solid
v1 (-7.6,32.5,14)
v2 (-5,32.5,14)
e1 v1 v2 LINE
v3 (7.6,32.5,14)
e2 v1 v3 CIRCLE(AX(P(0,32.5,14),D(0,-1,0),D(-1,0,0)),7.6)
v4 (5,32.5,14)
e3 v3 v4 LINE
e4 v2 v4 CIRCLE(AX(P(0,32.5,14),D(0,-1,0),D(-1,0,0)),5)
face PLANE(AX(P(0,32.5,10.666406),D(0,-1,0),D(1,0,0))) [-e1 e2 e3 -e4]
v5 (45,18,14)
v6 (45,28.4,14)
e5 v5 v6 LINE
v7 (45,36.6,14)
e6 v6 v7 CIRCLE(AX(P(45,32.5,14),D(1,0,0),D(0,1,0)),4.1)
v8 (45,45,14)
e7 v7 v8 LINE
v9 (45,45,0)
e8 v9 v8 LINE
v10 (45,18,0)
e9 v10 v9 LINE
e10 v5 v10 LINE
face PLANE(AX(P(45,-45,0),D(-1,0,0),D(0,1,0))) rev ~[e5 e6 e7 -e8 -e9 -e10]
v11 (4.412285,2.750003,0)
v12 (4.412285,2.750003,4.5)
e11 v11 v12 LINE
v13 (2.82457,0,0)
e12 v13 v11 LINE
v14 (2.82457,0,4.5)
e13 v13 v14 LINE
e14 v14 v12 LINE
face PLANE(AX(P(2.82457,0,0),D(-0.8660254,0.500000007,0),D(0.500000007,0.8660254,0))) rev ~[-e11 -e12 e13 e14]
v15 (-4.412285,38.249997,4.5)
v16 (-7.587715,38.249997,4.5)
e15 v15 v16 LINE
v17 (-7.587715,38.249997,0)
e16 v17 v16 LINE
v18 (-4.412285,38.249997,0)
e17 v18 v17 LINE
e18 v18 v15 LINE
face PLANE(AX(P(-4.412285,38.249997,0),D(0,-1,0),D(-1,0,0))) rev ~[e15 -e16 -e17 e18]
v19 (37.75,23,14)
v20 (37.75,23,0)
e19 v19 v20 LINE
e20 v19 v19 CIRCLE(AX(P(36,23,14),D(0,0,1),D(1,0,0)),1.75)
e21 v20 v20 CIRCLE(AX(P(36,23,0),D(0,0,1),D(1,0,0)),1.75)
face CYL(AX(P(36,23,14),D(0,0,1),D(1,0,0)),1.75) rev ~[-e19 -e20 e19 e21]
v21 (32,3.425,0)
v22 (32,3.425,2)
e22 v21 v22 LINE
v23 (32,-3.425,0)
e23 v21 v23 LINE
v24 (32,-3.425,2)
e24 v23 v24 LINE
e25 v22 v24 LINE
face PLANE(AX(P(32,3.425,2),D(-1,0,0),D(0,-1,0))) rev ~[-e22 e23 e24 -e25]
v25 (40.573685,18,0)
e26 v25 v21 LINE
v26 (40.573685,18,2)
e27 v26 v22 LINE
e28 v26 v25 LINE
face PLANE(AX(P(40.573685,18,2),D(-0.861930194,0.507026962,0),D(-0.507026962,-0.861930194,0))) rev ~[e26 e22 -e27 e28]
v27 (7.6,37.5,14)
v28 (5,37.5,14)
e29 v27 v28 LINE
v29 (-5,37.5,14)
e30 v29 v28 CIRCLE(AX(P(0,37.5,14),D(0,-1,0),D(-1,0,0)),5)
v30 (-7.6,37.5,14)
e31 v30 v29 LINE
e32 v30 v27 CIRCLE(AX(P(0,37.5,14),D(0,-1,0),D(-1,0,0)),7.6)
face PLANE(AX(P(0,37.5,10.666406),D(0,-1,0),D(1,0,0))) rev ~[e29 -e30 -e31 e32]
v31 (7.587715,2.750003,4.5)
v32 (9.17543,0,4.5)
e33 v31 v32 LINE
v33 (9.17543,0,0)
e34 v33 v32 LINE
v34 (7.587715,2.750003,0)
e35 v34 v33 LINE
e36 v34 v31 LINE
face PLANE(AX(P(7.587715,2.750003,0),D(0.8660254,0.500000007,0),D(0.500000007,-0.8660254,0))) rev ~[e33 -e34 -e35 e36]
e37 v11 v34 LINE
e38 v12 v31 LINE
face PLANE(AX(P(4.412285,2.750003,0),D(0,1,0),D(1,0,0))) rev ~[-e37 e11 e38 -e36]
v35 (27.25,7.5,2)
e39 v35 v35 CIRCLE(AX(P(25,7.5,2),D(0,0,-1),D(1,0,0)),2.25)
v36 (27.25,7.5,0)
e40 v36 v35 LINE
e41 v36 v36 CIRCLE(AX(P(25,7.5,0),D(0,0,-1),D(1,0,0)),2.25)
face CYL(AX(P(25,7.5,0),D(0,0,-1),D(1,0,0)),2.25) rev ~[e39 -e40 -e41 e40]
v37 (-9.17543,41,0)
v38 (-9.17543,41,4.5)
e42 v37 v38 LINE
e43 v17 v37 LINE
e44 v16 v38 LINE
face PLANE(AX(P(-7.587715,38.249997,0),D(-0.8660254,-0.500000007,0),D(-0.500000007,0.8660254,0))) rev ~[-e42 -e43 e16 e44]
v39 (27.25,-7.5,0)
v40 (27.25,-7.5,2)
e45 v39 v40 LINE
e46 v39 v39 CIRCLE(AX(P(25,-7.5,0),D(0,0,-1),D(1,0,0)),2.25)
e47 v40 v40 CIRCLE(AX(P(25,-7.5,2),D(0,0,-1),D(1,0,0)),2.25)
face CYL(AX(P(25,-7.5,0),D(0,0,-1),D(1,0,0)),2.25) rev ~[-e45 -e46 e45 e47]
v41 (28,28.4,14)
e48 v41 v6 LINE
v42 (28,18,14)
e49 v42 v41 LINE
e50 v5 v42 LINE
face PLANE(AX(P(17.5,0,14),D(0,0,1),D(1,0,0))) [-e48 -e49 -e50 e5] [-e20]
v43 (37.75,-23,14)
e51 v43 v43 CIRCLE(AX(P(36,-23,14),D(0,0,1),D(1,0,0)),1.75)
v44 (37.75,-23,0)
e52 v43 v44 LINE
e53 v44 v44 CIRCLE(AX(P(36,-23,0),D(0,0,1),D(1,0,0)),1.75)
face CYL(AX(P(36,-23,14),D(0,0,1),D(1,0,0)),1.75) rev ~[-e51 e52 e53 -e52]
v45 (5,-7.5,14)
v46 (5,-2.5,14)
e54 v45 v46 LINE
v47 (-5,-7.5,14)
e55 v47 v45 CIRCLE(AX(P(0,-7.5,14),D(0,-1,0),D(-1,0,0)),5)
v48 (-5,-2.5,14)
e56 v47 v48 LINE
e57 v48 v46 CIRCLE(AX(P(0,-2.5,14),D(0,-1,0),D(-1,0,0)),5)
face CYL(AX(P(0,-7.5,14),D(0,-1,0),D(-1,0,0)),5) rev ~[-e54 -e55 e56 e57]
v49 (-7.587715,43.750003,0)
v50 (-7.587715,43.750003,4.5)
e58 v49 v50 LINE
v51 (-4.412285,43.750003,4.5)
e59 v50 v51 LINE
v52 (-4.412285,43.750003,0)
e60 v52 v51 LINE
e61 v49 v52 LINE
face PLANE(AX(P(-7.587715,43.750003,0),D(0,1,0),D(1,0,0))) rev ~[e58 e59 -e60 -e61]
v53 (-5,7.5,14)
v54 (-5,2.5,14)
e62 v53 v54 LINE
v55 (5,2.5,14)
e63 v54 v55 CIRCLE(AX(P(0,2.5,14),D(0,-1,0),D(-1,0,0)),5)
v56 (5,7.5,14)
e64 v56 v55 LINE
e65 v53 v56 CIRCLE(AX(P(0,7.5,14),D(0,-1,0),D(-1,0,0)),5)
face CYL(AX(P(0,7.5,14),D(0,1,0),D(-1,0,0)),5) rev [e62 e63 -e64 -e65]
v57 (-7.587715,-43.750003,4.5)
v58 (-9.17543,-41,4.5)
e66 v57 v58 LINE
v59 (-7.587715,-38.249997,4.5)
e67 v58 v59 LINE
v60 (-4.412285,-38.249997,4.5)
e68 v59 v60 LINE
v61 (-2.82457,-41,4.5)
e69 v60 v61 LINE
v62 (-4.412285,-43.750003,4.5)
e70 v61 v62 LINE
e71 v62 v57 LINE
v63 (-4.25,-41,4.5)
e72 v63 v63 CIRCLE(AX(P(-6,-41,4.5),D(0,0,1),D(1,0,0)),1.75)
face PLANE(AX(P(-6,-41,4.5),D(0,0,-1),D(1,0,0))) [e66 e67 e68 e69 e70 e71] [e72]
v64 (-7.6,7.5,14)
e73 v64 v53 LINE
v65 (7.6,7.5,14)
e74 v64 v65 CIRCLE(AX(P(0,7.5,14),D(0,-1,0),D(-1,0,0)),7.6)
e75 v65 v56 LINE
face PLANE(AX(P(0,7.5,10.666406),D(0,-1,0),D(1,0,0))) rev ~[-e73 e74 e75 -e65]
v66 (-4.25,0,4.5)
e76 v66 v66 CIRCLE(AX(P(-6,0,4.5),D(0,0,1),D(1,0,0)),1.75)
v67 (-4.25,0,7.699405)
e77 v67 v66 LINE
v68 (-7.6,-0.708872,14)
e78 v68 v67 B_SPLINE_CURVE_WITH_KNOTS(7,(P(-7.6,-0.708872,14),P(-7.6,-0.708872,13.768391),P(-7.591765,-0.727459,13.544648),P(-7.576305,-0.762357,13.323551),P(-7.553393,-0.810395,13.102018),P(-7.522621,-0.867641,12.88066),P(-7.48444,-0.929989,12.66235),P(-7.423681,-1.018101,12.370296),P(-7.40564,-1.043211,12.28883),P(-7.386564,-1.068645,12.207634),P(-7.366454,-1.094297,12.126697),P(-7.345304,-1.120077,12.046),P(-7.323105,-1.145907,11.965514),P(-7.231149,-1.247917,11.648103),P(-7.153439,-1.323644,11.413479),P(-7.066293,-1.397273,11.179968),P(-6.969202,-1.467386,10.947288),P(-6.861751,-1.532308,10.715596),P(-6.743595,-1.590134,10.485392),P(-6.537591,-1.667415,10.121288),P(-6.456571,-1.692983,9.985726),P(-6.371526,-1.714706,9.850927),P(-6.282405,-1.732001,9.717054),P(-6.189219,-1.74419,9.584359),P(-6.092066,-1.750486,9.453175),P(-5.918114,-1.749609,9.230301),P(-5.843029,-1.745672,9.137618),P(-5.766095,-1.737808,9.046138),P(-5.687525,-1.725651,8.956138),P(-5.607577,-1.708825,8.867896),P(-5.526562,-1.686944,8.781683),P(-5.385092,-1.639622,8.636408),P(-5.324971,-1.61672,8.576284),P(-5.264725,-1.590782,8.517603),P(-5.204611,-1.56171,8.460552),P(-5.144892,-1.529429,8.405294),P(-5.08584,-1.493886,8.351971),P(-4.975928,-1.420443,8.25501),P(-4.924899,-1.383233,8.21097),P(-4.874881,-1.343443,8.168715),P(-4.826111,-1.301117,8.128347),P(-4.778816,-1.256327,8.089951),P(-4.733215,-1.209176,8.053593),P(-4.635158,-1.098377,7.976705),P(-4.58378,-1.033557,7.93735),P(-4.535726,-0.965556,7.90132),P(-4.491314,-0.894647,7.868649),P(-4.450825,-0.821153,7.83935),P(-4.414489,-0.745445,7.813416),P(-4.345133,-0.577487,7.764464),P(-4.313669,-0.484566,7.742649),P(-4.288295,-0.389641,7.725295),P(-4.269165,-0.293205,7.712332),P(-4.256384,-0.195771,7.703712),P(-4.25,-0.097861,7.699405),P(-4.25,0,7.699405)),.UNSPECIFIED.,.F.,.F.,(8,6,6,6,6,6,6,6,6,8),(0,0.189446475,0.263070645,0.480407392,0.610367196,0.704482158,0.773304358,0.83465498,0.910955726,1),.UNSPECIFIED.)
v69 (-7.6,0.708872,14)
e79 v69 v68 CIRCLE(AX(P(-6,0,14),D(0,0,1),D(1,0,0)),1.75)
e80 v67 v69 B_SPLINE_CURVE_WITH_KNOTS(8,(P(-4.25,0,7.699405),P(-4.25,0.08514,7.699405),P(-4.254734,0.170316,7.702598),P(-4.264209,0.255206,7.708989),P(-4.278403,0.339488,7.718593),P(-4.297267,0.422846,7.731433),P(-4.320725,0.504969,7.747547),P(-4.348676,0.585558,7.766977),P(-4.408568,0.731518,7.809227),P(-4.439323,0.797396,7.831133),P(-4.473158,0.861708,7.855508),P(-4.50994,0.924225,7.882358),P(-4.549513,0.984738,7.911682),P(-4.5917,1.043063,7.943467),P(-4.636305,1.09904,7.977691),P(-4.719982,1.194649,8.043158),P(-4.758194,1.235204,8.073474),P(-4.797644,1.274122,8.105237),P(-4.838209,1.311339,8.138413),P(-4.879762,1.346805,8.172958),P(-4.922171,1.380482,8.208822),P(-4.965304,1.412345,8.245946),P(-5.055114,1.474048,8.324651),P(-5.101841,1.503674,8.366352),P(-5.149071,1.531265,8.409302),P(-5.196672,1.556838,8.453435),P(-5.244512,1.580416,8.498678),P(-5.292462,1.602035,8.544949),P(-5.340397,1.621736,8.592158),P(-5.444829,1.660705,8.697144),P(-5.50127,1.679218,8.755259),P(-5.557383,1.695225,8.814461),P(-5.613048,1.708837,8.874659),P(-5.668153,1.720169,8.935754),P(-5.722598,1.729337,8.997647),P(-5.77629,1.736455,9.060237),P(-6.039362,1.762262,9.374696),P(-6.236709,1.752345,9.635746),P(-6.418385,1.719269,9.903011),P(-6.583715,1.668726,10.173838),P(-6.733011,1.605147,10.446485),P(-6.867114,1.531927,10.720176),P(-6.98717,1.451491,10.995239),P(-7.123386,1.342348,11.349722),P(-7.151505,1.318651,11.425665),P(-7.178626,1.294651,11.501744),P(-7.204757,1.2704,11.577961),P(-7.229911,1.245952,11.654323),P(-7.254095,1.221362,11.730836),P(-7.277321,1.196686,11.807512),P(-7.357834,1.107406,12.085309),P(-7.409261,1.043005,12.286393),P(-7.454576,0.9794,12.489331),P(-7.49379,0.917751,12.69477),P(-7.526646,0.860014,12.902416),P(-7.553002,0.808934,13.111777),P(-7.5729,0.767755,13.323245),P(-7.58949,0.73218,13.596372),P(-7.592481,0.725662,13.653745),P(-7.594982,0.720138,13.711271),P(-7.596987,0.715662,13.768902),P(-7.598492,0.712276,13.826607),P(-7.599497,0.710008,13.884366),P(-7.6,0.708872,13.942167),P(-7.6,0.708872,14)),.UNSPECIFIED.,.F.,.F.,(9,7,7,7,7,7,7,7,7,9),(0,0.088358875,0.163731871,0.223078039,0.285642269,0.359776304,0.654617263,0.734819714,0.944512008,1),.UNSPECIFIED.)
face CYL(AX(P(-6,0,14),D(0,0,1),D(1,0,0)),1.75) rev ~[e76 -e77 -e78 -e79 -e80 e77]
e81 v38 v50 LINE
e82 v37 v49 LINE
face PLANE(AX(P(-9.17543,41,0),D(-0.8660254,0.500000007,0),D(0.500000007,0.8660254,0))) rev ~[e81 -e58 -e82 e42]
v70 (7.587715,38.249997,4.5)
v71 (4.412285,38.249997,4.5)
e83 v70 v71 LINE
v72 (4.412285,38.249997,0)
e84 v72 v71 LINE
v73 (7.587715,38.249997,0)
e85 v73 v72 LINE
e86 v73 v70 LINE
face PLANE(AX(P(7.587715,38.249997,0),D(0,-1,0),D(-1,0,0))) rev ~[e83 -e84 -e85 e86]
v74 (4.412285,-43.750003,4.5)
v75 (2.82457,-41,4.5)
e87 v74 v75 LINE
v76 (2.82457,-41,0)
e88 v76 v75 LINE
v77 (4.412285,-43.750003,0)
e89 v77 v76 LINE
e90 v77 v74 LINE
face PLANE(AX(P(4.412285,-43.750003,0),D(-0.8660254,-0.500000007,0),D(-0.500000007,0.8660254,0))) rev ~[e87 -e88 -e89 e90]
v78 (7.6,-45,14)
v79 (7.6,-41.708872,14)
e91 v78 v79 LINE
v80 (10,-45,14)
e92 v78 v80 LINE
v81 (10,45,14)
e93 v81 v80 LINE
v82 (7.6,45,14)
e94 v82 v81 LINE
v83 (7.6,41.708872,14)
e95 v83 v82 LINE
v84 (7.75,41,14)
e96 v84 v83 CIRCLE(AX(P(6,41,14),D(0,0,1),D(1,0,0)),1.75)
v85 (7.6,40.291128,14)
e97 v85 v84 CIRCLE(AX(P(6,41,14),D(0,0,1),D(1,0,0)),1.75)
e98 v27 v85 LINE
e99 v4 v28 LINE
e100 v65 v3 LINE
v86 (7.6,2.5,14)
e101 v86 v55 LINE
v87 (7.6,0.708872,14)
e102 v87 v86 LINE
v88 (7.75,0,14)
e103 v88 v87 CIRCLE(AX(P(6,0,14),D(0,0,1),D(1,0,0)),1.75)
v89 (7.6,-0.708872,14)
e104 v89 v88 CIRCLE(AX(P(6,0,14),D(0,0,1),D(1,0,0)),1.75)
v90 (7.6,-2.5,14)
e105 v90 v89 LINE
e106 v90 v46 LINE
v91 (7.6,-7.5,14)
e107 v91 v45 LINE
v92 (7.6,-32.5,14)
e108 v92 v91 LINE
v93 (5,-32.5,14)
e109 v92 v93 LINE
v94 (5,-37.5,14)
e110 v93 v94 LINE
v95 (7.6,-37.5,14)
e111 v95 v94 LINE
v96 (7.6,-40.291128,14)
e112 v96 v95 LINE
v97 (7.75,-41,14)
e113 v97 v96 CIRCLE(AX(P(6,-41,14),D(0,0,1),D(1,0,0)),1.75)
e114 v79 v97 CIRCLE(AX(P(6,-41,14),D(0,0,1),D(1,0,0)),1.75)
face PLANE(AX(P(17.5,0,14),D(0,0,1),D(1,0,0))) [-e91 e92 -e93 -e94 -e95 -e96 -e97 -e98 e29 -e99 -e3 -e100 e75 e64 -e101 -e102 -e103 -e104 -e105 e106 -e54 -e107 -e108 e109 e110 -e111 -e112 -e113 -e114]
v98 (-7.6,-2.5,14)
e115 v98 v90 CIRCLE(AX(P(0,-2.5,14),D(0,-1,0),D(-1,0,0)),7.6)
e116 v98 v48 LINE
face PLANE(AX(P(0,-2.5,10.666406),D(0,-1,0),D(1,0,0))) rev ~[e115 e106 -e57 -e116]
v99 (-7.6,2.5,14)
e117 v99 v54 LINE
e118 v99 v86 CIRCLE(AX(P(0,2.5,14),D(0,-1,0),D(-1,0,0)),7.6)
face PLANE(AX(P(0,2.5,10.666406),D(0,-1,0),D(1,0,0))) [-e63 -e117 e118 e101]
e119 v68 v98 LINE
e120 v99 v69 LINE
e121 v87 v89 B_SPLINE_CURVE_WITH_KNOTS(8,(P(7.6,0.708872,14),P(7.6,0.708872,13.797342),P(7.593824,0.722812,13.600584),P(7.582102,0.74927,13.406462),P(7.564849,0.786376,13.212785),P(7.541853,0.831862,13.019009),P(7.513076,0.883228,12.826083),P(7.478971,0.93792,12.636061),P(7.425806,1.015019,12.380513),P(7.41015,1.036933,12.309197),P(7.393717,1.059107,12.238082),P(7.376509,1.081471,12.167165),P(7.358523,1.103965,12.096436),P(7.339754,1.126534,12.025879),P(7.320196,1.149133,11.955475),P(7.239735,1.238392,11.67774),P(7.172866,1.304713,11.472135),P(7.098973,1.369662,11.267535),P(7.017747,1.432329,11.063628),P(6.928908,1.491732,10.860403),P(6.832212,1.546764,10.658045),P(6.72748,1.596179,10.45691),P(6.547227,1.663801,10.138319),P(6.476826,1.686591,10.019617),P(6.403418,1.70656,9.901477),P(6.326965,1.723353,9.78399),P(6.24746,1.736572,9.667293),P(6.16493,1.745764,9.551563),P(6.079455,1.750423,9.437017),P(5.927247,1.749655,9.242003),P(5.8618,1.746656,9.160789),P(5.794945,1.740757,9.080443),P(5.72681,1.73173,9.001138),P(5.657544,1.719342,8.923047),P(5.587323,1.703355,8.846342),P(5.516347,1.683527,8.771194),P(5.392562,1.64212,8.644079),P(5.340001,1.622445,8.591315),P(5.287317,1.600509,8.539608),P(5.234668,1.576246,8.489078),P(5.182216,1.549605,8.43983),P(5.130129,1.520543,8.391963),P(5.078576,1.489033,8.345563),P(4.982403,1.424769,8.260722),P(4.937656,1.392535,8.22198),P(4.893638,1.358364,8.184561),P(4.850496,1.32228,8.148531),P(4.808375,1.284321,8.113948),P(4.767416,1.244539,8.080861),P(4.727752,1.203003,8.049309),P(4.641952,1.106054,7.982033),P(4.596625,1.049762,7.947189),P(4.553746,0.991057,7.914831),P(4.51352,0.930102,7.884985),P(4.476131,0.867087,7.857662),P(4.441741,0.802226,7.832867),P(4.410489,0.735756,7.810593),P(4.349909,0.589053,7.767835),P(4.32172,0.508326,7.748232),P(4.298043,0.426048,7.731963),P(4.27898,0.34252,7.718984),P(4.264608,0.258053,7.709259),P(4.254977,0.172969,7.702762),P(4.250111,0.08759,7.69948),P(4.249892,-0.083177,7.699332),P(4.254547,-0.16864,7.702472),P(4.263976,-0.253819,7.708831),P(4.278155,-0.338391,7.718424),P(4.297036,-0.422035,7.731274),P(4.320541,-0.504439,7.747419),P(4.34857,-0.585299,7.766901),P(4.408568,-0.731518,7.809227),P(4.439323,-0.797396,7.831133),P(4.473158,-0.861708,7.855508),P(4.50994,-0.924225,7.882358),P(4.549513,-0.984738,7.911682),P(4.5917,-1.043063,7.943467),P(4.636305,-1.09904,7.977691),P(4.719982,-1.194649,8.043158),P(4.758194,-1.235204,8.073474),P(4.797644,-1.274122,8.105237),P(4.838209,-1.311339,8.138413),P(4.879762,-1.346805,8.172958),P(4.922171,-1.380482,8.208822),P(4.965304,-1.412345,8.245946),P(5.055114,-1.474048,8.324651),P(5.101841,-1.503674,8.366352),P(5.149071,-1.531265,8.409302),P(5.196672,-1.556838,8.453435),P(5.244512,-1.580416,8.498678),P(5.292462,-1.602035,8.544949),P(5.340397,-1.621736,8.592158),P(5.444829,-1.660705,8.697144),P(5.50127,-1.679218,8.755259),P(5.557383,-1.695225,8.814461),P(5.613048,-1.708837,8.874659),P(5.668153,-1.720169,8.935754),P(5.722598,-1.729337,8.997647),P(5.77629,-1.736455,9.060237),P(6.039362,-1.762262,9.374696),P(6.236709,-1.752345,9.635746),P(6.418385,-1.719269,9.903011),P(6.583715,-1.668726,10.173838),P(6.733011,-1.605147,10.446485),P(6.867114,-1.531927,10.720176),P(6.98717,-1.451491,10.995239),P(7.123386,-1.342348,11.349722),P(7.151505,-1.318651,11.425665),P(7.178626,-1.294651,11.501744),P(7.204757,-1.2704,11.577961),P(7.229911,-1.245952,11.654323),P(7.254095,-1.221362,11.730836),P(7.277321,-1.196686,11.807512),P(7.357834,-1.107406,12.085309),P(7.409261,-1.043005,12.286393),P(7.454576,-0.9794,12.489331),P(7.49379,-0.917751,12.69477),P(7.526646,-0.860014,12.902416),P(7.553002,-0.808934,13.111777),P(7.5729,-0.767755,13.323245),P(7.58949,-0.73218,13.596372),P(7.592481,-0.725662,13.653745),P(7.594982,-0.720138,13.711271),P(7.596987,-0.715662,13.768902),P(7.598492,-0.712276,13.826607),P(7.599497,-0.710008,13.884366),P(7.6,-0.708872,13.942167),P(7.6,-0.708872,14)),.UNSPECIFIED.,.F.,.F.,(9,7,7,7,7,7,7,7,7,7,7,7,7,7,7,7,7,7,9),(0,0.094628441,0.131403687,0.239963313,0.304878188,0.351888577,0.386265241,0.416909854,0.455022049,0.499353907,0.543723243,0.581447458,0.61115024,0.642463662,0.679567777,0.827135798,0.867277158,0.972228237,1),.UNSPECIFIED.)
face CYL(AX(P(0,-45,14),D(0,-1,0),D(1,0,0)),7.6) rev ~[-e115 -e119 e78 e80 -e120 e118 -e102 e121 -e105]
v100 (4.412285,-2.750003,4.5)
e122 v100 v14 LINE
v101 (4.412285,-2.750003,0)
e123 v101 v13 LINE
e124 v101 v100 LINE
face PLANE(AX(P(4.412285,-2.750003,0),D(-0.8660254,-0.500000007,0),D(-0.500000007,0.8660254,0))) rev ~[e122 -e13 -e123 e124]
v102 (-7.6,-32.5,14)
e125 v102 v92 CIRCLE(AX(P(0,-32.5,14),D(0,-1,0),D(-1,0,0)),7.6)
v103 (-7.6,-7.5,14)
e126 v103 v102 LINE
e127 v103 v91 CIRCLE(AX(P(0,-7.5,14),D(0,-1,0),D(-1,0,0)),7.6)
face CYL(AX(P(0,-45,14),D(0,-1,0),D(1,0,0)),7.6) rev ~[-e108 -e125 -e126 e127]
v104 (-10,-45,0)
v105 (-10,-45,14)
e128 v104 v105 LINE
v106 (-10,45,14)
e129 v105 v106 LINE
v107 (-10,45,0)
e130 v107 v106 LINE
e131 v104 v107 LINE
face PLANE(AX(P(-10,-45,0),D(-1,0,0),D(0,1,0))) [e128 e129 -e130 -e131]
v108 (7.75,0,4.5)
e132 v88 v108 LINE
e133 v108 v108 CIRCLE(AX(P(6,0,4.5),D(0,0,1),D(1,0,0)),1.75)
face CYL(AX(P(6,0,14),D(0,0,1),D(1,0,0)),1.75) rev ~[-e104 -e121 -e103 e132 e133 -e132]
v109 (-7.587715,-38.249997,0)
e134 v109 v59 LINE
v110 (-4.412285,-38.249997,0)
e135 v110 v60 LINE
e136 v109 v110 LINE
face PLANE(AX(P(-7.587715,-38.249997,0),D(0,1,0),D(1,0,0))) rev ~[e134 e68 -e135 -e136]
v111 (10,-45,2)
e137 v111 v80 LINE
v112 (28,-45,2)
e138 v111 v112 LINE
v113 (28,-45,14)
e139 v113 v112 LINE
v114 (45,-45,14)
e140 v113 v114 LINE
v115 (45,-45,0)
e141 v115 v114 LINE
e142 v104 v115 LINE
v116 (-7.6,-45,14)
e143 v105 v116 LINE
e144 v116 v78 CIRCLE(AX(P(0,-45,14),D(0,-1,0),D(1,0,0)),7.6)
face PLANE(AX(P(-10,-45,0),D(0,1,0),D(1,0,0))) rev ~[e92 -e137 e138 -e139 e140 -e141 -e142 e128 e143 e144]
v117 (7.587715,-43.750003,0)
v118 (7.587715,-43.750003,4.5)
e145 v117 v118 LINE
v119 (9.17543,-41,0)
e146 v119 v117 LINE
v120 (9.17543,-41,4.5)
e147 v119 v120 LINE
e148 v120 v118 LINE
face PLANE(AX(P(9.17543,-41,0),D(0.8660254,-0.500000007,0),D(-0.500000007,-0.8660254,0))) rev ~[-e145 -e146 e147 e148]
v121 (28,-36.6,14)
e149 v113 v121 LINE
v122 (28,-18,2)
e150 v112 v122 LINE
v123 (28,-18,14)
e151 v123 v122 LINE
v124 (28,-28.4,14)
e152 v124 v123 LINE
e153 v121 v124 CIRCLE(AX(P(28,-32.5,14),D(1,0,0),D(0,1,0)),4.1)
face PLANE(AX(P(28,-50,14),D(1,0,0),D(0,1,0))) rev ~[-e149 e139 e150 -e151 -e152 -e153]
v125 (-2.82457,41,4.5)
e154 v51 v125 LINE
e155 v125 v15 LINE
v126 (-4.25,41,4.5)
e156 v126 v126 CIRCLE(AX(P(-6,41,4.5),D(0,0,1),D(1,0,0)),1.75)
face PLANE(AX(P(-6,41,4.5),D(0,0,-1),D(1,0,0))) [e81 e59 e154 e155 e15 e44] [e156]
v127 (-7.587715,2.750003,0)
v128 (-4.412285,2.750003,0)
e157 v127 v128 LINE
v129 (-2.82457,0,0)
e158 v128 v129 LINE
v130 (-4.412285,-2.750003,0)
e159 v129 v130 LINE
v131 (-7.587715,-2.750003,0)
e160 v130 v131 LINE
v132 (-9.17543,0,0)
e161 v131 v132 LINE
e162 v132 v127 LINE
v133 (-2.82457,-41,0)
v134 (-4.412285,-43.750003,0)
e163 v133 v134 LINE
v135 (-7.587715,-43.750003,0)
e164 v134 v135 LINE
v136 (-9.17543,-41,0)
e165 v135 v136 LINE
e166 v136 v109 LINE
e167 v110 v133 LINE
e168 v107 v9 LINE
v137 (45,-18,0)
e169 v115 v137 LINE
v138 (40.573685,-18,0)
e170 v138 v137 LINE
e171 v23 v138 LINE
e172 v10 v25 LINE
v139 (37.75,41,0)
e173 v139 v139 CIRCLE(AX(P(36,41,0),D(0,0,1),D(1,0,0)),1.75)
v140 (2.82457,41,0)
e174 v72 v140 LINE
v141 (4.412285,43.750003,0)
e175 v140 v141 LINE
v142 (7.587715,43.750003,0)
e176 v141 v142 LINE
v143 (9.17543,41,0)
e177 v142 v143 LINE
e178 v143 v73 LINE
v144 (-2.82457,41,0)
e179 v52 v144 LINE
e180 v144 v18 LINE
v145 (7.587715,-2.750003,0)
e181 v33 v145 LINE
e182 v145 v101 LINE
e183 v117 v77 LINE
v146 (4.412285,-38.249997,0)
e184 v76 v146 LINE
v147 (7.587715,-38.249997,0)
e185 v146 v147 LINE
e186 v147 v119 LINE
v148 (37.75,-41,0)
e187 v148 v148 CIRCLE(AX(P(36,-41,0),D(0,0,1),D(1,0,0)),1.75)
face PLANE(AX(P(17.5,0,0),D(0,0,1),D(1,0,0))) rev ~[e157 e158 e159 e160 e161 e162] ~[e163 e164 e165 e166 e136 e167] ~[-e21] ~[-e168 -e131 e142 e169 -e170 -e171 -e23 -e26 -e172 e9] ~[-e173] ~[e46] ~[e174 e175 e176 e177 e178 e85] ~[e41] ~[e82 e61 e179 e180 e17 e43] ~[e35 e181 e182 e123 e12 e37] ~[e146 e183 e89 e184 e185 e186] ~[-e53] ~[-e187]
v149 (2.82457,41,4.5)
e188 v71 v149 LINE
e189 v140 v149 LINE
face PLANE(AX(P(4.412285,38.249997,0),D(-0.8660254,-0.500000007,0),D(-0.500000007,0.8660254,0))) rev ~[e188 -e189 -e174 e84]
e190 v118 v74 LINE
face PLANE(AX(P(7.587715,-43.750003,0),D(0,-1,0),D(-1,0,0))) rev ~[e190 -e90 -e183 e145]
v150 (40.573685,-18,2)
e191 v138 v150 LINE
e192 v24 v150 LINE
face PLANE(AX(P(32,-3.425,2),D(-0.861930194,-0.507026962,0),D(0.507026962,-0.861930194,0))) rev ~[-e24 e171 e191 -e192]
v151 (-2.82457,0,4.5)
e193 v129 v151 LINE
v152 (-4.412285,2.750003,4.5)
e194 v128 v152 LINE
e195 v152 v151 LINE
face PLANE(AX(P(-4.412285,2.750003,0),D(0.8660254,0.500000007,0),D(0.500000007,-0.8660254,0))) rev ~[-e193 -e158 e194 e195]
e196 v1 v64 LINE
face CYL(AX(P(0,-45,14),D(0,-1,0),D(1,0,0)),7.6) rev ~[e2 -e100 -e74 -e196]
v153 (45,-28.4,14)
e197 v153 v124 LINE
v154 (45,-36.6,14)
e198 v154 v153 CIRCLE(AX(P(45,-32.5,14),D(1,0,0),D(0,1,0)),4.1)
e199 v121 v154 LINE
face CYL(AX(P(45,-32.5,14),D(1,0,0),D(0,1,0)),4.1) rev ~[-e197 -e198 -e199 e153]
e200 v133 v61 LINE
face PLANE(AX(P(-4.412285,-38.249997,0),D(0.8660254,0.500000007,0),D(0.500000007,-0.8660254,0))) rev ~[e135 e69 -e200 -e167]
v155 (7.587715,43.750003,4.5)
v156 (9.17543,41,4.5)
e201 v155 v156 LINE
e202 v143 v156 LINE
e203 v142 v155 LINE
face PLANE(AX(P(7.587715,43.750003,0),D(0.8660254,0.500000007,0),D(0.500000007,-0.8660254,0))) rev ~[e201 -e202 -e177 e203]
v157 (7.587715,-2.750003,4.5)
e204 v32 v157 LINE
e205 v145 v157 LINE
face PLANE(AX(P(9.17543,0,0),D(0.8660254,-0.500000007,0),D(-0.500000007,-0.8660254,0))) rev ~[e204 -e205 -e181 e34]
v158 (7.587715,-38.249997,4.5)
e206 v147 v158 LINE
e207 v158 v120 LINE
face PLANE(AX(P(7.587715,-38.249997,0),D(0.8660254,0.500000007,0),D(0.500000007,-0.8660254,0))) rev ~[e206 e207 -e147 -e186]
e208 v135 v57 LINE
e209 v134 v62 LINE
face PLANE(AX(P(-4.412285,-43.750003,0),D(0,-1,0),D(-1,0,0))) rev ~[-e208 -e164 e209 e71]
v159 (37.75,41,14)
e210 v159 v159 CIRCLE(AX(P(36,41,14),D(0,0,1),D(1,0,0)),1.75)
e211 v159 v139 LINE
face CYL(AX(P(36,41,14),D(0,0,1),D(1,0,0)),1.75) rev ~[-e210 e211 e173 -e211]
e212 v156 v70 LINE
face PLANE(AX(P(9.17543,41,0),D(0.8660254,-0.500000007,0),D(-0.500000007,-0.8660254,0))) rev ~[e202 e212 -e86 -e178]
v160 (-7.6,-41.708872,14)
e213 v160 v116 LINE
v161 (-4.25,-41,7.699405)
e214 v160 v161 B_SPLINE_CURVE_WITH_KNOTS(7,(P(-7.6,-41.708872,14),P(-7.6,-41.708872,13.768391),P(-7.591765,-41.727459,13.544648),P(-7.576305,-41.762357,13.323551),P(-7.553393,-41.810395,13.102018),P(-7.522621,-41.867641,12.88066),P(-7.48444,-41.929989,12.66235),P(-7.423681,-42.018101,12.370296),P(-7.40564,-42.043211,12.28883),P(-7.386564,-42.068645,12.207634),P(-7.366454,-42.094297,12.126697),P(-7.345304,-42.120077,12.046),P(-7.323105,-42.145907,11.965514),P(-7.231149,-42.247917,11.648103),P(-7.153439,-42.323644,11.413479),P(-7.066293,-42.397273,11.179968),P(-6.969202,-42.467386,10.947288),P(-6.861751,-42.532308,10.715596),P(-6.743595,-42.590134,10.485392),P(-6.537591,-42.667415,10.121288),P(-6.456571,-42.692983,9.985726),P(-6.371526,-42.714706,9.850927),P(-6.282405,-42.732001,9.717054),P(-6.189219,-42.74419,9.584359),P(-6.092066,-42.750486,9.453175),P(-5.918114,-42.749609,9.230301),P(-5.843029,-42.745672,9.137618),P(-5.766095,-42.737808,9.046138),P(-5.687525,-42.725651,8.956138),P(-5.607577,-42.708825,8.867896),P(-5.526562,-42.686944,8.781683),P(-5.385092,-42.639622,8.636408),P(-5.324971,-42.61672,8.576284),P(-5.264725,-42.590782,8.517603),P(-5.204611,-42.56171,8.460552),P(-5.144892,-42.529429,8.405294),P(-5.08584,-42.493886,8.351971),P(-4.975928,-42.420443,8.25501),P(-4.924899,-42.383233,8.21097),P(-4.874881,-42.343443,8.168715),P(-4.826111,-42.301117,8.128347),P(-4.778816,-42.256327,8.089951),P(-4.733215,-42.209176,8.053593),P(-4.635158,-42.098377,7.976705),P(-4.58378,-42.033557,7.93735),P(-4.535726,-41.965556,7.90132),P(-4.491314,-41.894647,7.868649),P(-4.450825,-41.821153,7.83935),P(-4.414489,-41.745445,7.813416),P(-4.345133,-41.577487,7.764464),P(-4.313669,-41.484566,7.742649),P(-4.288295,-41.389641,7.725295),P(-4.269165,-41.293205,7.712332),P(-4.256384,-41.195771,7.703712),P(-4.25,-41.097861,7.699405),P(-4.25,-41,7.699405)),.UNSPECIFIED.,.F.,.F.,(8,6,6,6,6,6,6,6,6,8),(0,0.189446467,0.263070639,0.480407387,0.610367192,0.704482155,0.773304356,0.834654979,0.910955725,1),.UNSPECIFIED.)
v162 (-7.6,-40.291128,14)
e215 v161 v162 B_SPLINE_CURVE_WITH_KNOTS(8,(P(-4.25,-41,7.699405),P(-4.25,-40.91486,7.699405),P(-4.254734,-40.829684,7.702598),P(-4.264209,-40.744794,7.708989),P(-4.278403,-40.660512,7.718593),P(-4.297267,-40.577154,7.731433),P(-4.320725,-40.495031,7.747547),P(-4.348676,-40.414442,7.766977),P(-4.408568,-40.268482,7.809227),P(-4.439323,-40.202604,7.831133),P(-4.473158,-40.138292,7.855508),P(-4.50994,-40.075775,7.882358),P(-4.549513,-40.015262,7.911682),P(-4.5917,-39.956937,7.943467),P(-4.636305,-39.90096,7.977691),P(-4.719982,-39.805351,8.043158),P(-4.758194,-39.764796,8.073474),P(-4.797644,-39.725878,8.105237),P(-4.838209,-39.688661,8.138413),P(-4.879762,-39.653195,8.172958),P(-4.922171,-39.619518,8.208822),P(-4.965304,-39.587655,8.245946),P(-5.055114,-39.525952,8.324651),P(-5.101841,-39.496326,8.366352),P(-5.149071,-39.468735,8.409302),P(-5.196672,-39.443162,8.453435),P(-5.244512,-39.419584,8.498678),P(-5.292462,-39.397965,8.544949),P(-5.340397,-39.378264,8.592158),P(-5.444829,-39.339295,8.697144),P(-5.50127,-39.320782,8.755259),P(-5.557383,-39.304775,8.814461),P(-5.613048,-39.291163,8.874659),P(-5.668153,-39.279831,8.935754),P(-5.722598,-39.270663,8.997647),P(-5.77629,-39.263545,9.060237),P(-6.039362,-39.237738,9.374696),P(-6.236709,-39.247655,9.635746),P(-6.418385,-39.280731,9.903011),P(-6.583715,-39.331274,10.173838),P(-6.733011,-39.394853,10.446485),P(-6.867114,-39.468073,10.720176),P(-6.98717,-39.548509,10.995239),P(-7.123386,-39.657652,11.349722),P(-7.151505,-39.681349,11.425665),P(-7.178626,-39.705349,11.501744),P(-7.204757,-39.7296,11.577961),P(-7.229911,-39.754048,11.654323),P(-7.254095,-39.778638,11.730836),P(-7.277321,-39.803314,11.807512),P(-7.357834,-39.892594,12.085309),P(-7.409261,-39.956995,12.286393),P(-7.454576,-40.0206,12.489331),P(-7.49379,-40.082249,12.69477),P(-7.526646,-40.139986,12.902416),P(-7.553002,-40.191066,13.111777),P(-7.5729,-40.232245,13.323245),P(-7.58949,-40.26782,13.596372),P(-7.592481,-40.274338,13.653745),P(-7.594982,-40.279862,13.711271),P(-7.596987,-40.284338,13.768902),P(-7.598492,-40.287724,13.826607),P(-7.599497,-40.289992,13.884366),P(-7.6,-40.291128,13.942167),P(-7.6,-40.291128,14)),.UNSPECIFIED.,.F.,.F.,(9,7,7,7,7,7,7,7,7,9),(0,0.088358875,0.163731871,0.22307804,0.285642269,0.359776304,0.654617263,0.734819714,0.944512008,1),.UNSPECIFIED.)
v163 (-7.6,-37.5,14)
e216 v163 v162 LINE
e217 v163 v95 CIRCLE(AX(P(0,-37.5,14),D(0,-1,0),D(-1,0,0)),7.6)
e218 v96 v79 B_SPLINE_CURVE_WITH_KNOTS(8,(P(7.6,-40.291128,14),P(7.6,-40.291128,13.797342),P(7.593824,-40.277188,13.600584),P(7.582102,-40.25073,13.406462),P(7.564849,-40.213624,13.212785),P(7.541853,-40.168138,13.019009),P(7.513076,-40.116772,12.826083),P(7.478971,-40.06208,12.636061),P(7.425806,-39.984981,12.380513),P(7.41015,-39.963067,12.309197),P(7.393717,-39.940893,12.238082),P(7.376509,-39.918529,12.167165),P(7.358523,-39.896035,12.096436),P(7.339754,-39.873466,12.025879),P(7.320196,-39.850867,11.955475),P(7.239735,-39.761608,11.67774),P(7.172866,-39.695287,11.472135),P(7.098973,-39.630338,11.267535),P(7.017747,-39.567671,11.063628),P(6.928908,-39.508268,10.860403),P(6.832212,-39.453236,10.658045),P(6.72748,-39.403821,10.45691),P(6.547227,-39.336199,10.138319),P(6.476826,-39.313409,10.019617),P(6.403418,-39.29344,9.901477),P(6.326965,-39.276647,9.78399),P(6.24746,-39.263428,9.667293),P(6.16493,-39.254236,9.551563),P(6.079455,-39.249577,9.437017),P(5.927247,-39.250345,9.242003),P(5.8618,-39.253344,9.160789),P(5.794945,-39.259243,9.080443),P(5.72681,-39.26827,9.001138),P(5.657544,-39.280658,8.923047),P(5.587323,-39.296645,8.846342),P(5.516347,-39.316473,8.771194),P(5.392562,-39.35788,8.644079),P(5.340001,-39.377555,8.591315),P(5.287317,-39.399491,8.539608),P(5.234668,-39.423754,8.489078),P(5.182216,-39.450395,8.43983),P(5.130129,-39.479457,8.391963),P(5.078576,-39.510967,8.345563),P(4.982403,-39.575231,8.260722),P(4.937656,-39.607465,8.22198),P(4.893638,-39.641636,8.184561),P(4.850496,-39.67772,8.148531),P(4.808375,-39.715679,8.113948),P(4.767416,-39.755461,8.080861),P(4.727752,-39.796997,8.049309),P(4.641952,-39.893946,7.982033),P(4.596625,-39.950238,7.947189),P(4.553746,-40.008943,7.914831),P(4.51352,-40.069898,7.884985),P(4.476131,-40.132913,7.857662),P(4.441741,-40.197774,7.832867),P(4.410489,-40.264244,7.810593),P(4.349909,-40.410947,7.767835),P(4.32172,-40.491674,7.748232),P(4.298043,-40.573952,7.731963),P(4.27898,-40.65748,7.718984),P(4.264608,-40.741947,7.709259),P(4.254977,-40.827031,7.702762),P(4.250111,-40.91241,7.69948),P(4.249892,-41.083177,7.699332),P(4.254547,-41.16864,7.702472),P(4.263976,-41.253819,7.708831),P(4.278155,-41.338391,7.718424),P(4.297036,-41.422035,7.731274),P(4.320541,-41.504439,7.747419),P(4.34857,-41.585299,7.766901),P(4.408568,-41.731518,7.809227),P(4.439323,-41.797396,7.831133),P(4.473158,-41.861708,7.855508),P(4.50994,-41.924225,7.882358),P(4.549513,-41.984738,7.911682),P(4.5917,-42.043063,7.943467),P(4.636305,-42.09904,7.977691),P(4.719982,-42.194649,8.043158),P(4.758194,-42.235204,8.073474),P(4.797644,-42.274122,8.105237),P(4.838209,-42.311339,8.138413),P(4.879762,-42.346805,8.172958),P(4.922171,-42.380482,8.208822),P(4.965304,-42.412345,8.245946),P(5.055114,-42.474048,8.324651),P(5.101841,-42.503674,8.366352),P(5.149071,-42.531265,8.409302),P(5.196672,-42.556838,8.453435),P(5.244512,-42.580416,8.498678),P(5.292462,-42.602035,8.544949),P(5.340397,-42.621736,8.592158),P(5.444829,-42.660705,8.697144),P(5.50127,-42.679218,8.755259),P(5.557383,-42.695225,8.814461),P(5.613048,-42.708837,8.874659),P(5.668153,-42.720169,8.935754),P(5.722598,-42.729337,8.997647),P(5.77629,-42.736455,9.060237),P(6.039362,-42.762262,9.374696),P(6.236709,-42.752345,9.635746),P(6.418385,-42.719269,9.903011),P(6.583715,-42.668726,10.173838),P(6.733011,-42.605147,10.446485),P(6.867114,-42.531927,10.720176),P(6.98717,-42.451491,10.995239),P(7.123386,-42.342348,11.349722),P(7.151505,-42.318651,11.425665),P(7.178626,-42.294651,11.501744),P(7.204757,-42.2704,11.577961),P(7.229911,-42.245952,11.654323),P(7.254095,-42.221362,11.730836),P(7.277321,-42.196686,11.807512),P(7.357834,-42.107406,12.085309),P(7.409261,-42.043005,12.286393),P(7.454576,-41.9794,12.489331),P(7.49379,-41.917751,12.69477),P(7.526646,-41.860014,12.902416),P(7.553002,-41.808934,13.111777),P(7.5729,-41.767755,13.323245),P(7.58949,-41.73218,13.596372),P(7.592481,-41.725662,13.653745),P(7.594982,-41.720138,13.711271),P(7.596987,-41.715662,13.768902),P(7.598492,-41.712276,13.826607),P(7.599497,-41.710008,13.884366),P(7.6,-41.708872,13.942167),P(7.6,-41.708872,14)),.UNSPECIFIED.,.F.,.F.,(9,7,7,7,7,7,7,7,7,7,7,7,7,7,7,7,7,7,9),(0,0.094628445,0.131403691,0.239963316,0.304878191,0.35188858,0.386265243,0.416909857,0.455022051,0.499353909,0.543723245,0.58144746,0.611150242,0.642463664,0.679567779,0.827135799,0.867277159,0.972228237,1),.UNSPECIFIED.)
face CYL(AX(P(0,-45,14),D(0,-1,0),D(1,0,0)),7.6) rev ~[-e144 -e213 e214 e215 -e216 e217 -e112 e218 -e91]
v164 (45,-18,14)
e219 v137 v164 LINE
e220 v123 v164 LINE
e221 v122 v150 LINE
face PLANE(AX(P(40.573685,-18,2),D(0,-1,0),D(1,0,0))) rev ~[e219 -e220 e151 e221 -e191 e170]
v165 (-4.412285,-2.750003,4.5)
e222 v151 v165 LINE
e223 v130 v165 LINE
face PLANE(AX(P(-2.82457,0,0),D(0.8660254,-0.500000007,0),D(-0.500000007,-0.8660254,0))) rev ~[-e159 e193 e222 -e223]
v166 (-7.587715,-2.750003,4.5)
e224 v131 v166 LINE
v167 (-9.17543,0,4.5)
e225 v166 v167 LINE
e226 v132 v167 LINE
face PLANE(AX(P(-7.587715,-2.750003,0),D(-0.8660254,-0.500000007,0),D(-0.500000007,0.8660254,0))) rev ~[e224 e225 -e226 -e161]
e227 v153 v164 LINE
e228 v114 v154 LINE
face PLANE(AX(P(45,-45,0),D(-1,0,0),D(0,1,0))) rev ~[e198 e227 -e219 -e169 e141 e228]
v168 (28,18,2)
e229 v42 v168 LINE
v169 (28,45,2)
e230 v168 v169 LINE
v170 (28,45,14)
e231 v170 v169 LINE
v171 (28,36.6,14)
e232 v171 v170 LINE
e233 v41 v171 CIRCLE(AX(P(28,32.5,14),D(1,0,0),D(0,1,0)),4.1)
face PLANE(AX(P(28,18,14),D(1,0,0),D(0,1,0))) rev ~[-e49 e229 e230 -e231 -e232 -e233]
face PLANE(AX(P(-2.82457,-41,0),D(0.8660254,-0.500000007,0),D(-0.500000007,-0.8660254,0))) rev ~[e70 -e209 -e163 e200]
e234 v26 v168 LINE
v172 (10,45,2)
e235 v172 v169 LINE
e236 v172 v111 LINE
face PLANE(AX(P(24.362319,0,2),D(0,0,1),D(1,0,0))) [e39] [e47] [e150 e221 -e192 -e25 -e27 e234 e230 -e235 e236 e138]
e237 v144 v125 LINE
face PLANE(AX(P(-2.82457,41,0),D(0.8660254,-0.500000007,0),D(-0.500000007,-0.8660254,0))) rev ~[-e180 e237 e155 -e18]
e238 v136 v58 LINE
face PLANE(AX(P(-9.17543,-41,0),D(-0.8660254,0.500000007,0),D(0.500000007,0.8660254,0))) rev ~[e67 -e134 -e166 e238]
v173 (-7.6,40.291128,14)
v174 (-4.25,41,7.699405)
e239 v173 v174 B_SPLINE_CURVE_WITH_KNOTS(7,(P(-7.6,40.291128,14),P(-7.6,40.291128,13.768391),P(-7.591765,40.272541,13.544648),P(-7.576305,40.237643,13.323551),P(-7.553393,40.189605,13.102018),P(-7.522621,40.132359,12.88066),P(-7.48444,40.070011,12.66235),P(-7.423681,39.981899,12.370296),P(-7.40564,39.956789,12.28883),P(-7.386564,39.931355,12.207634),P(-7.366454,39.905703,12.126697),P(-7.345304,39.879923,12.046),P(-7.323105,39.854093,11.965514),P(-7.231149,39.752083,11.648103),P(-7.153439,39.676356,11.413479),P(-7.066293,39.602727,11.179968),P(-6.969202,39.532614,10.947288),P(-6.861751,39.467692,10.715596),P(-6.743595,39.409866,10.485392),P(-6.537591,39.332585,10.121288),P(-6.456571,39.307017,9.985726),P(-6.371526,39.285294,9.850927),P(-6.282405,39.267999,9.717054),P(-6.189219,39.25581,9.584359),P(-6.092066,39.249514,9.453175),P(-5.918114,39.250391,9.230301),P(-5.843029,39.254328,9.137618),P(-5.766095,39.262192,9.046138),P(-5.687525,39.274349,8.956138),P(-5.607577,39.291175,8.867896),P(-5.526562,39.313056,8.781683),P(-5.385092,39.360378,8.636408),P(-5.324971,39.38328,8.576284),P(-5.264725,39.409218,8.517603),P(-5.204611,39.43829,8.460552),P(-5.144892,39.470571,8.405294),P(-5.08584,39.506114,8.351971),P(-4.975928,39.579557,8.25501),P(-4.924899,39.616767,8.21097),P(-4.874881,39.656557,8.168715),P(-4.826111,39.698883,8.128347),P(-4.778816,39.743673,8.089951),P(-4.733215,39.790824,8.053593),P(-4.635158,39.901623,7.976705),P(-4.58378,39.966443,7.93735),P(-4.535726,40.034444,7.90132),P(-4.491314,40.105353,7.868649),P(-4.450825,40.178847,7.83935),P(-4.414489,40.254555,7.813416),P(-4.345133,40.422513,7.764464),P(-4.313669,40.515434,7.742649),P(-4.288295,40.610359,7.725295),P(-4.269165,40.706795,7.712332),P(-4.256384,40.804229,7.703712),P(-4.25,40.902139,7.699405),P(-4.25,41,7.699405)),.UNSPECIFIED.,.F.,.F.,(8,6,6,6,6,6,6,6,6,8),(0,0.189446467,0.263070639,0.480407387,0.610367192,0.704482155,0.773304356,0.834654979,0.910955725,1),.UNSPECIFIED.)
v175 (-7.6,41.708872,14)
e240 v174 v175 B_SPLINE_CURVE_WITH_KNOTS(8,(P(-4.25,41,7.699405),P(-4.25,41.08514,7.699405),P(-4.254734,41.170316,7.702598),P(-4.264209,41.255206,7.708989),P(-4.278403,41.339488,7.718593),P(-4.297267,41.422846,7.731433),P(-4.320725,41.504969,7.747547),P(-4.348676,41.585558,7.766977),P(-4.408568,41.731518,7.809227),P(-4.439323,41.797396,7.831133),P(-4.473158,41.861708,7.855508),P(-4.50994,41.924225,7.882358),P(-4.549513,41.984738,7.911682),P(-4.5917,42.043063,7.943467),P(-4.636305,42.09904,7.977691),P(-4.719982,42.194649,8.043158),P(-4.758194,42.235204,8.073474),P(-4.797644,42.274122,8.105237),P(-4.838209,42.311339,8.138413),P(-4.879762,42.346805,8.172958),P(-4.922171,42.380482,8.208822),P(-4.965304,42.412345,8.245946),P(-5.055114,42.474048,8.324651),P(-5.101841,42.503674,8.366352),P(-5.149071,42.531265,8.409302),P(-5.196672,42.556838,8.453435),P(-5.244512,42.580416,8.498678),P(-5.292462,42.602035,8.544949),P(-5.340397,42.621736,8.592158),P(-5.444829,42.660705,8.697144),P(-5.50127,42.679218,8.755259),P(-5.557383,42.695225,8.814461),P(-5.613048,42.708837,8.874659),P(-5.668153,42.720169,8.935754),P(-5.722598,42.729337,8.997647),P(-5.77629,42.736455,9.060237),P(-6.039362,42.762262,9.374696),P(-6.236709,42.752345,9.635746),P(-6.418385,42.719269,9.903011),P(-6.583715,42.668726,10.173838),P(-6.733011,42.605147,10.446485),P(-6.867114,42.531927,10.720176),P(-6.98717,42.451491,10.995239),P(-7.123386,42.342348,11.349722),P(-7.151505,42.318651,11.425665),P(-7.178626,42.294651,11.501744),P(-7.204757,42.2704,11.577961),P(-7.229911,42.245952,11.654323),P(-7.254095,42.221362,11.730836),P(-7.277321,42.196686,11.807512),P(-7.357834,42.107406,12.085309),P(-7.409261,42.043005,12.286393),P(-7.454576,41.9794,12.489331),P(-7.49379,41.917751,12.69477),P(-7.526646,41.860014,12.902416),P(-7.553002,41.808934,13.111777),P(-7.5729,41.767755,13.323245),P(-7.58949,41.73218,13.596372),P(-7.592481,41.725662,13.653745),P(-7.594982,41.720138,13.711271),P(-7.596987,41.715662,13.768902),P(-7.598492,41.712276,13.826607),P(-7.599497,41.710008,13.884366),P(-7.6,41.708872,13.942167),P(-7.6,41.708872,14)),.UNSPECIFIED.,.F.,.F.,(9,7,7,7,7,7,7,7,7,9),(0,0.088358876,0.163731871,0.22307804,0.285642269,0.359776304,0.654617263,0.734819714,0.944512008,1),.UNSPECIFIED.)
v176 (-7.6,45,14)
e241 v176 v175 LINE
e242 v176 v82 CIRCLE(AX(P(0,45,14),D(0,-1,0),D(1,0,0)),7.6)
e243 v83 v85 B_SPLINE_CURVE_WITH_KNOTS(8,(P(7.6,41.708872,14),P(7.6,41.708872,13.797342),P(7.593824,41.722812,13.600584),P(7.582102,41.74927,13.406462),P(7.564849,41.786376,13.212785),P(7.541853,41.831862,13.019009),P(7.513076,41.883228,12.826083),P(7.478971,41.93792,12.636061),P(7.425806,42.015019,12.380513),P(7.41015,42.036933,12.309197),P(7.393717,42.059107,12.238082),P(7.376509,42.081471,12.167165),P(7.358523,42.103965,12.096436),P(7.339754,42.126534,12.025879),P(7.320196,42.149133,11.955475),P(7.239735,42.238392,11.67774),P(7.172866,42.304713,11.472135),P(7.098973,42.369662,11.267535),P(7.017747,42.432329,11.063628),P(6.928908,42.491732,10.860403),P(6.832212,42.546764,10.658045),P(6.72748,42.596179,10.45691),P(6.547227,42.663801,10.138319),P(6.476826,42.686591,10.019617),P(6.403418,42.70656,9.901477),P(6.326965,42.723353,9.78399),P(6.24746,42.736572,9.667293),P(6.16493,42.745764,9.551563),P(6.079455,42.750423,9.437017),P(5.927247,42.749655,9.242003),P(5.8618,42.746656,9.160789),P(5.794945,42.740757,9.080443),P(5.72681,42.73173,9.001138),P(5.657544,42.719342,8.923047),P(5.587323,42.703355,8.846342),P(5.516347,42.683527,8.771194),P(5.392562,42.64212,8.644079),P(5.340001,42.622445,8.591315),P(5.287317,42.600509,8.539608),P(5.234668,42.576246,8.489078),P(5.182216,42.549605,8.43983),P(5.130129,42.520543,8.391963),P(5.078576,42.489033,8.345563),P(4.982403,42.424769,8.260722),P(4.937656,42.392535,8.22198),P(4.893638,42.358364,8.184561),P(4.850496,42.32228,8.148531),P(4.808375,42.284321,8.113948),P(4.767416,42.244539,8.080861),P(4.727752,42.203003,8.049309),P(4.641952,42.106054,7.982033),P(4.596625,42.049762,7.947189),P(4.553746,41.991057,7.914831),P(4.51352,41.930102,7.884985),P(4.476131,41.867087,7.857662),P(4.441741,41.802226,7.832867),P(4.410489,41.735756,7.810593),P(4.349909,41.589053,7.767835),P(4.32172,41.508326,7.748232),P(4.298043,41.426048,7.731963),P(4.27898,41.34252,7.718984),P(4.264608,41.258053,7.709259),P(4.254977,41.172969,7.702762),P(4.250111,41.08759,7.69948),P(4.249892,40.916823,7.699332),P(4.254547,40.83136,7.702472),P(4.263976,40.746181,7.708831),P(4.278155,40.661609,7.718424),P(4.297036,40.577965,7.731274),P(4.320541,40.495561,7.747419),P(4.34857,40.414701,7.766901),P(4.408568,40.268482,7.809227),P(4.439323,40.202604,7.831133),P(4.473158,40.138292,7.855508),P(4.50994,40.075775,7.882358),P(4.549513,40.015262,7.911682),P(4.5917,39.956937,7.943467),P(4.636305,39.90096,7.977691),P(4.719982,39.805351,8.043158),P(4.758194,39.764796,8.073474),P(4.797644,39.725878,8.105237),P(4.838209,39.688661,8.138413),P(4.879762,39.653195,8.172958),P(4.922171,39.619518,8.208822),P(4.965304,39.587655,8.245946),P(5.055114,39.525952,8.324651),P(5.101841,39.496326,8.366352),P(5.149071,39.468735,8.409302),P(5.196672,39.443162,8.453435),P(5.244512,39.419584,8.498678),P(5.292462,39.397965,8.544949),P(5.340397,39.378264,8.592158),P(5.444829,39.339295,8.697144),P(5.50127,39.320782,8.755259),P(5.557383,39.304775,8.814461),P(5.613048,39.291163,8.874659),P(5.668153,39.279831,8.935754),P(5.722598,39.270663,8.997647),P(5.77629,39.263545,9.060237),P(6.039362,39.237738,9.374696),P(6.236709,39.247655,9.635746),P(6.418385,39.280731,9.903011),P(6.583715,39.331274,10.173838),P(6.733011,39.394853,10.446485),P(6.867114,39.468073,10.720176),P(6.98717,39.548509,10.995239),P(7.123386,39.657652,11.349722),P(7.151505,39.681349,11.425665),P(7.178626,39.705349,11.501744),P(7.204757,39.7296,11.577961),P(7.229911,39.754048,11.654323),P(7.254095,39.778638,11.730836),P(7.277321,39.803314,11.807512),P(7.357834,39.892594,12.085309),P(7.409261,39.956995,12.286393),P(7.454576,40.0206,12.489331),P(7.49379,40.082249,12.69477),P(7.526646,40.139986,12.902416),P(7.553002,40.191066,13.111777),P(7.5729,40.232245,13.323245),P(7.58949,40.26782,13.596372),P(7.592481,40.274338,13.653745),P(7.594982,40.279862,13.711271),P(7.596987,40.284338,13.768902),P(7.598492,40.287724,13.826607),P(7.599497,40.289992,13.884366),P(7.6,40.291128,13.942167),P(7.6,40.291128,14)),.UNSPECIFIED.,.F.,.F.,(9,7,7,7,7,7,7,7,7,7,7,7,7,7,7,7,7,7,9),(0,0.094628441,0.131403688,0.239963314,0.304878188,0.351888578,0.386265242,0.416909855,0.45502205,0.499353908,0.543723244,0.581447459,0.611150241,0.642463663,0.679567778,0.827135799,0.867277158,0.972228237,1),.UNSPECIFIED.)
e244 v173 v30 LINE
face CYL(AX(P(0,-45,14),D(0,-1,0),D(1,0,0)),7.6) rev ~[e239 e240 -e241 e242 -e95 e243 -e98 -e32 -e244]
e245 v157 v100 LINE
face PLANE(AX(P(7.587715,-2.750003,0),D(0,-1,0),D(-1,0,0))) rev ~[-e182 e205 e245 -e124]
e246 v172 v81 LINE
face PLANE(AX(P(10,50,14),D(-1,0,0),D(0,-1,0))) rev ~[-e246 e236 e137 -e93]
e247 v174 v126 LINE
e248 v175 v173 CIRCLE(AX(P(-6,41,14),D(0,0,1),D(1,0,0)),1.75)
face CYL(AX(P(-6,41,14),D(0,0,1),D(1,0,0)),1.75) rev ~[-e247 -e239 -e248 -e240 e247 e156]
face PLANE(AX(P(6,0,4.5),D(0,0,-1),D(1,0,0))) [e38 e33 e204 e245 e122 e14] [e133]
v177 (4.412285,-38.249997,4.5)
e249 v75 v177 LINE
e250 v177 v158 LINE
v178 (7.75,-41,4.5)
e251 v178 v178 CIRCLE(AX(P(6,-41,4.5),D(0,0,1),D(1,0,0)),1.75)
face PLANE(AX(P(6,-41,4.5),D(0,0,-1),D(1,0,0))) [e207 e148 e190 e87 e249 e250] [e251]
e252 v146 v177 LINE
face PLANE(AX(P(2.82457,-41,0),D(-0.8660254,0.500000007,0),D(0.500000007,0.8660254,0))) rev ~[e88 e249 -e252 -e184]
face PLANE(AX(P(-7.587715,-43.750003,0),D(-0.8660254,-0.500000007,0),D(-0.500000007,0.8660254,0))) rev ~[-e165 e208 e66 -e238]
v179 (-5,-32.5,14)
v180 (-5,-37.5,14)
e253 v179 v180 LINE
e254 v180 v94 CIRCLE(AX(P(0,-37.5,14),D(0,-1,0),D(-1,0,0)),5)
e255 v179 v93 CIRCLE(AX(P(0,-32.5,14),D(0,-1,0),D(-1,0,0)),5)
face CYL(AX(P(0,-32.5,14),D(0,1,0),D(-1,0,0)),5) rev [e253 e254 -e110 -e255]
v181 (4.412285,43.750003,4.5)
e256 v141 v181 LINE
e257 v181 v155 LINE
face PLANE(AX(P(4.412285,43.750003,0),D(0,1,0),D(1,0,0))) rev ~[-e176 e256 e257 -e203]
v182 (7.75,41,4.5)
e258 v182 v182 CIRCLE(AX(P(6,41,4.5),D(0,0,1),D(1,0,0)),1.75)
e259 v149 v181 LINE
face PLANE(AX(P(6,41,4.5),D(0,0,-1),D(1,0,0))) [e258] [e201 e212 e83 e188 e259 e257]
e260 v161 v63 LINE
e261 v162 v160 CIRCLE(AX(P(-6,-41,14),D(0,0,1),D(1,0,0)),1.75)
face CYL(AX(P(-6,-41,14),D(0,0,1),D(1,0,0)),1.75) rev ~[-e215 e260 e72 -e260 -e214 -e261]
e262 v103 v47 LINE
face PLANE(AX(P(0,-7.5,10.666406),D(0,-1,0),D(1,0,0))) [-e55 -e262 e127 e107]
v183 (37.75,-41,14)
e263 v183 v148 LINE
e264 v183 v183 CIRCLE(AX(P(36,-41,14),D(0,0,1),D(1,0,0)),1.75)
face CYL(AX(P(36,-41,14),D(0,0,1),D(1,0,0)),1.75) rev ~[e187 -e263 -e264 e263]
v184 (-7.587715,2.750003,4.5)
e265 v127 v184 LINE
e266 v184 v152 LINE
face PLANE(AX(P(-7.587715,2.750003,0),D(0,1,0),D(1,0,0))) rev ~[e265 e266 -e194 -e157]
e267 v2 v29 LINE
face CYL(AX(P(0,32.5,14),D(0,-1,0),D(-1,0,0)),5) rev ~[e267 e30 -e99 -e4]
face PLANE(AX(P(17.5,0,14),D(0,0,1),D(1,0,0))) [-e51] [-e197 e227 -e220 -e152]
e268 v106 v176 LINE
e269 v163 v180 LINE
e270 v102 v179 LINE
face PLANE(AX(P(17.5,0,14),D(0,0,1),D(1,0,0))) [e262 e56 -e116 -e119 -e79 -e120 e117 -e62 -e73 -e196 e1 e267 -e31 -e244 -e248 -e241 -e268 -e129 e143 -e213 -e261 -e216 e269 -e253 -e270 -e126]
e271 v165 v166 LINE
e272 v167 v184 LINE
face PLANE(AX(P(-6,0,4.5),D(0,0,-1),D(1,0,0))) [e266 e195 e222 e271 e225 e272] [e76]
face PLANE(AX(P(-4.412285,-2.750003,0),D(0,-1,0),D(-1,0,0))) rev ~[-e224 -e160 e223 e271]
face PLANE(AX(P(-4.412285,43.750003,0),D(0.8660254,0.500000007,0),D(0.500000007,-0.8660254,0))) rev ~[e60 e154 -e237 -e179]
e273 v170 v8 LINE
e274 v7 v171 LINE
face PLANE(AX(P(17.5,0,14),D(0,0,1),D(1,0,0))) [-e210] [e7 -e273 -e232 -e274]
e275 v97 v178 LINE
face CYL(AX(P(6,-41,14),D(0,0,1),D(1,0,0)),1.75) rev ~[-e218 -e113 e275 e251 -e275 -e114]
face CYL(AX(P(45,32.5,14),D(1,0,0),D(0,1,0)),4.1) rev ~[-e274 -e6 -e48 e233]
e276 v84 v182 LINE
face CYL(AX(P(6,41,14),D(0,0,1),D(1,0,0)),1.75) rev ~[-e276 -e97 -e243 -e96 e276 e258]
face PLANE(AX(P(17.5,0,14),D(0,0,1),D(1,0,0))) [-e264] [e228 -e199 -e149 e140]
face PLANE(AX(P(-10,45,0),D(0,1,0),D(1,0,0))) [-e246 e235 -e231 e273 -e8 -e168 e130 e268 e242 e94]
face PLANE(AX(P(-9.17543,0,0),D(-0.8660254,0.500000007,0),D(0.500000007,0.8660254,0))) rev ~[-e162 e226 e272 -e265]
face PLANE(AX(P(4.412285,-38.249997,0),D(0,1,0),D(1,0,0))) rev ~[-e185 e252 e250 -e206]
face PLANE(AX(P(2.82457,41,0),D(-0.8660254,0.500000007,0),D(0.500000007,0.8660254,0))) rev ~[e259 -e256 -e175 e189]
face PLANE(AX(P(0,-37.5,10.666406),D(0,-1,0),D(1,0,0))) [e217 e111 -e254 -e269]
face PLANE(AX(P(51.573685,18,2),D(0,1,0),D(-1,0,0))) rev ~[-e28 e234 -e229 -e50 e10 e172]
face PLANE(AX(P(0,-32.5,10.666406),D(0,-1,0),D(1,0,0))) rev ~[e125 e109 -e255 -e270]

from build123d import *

# Parameters (mm, degrees)
PAD003_DEPTH    = 5
PAD001_DEPTH    = 5
PAD002_DEPTH    = 5
PAD004_DEPTH    = 5
SKETCH_W        = 55
SKETCH_H        = 90
PAD_DEPTH       = 14
SKETCH001_R     = 7.6
POCKET_DEPTH    = 90.001
SKETCH002_R     = 1.75
POCKET001_DEPTH = 14.001
POCKET002_DEPTH = 12
SKETCH004_R     = 2.25
POCKET003_DEPTH = 14.001
SKETCH008_R     = 4.1
POCKET005_DEPTH = 20
POCKET007_DEPTH = 4.5
POCKET008_DEPTH = 12.5


with BuildPart() as pad003:
    # Sketch020 → Pad003 (new body)
    with BuildSketch(Plane.XZ.offset(-32.5)):
        with BuildLine():
            ThreePointArc((-7.6, 14), (0, 6.4), (7.6, 14))
            Line((7.6, 14), (5, 14))
            ThreePointArc((-5, 14), (0, 9), (5, 14))
            Line((-7.6, 14), (-5, 14))
        make_face()
    extrude(amount=-PAD003_DEPTH)


with BuildPart() as pad001:
    # Sketch018 → Pad001 (new body)
    with BuildSketch(Plane.XZ.offset(-7.5)):
        with BuildLine():
            ThreePointArc((-7.6, 14), (0, 6.4), (7.6, 14))
            Line((7.6, 14), (5, 14))
            ThreePointArc((-5, 14), (0, 9), (5, 14))
            Line((-7.6, 14), (-5, 14))
        make_face()
    extrude(amount=PAD001_DEPTH)


with BuildPart() as pad002:
    # Sketch019 → Pad002 (new body)
    with BuildSketch(Plane.XZ.offset(7.5)):
        with BuildLine():
            ThreePointArc((-7.6, 14), (0, 6.4), (7.6, 14))
            Line((7.6, 14), (5, 14))
            ThreePointArc((-5, 14), (0, 9), (5, 14))
            Line((-7.6, 14), (-5, 14))
        make_face()
    extrude(amount=-PAD002_DEPTH)


with BuildPart() as pad004:
    # Sketch021 → Pad004 (new body)
    with BuildSketch(Plane.XZ.offset(32.5)):
        with BuildLine():
            ThreePointArc((-7.6, 14), (0, 6.4), (7.6, 14))
            Line((7.6, 14), (5, 14))
            ThreePointArc((-5, 14), (0, 9), (5, 14))
            Line((-7.6, 14), (-5, 14))
        make_face()
    extrude(amount=PAD004_DEPTH)


with BuildPart() as fusion:
    # Sketch → Pad (new body)
    with BuildSketch(Plane.XY):
        with Locations((17.5, 0)):
            Rectangle(SKETCH_W, SKETCH_H)
    extrude(amount=PAD_DEPTH)

    # Sketch001 → Pocket (cut, through all)
    with BuildSketch(Plane.XZ.offset(45)):
        with Locations((0, 14)):
            Circle(SKETCH001_R)
    extrude(amount=-POCKET_DEPTH, mode=Mode.SUBTRACT)

    # Sketch002 → Pocket001 (cut, through all)
    with BuildSketch(Plane.XY.offset(14)):
        with Locations((-6, 41)):
            Circle(SKETCH002_R)
        with Locations((-6, -41)):
            Circle(SKETCH002_R)
        with Locations((6, 41)):
            Circle(SKETCH002_R)
        with Locations((6, -41)):
            Circle(SKETCH002_R)
        with Locations((6, 0)):
            Circle(SKETCH002_R)
        with Locations((-6, 0)):
            Circle(SKETCH002_R)
        with Locations((36, 41)):
            Circle(SKETCH002_R)
        with Locations((36, 23)):
            Circle(SKETCH002_R)
        with Locations((36, -23)):
            Circle(SKETCH002_R)
        with Locations((36, -41)):
            Circle(SKETCH002_R)
    extrude(amount=-POCKET001_DEPTH, mode=Mode.SUBTRACT)

    # Sketch003 → Pocket002 (cut)
    with BuildSketch(Plane.XY.offset(14)):
        Polygon((10, 50), (10, -50), (28, -50), (28, -18), (48, -18), (48, 18), (28, 18), (28, 50), align=None)
    extrude(amount=-POCKET002_DEPTH, mode=Mode.SUBTRACT)

    # Sketch004 → Pocket003 (cut, through all)
    with BuildSketch(Plane(origin=(0, 0, 0), x_dir=(1, 0, 0), z_dir=(0, 0, -1))):
        with Locations((25, 7.5)):
            Circle(SKETCH004_R)
        with Locations((25, -7.5)):
            Circle(SKETCH004_R)
    extrude(amount=-POCKET003_DEPTH, mode=Mode.SUBTRACT)

    # Sketch008 → Pocket005 (cut)
    with BuildSketch(Plane.YZ.offset(45)):
        with Locations((-32.5, 14)):
            Circle(SKETCH008_R)
        with Locations((32.5, 14)):
            Circle(SKETCH008_R)
    extrude(amount=-POCKET005_DEPTH, mode=Mode.SUBTRACT)

    # Sketch012 → Pocket007 (cut)
    with BuildSketch(Plane(origin=(0, 0, 0), x_dir=(1, 0, 0), z_dir=(0, 0, -1))):
        Polygon((-4.412285, 2.750003), (-7.587715, 2.750003), (-9.17543, 0), (-7.587715, -2.750003), (-4.412285, -2.750003), (-2.82457, 0), align=None)
        Polygon((7.587715, 2.750003), (4.412285, 2.750003), (2.82457, 0), (4.412285, -2.750003), (7.587715, -2.750003), (9.17543, 0), align=None)
        Polygon((-4.412285, 43.750003), (-7.587715, 43.750003), (-9.17543, 41), (-7.587715, 38.249997), (-4.412285, 38.249997), (-2.82457, 41), align=None)
        Polygon((7.587715, -38.249997), (4.412285, -38.249997), (2.82457, -41), (4.412285, -43.750003), (7.587715, -43.750003), (9.17543, -41), align=None)
        Polygon((7.587715, 43.750003), (4.412285, 43.750003), (2.82457, 41), (4.412285, 38.249997), (7.587715, 38.249997), (9.17543, 41), align=None)
        Polygon((-4.412285, -38.249997), (-7.587715, -38.249997), (-9.17543, -41), (-7.587715, -43.750003), (-4.412285, -43.750003), (-2.82457, -41), align=None)
    extrude(amount=-POCKET007_DEPTH, mode=Mode.SUBTRACT)

    # Sketch022 → Pocket008 (cut, symmetric)
    with BuildSketch(Plane.XY.offset(2)):
        Polygon((40.573685, 18), (32, 3.425), (32, -3.425), (40.573685, -18), (51.573685, -18), (51.573685, 18), align=None)
    extrude(amount=POCKET008_DEPTH, both=True, mode=Mode.SUBTRACT)

    # Fusion: union Pad003, Pad001, Pad002, Pad004
    add(pad003.part)
    add(pad001.part)
    add(pad002.part)
    add(pad004.part)


solid = fusion.part
